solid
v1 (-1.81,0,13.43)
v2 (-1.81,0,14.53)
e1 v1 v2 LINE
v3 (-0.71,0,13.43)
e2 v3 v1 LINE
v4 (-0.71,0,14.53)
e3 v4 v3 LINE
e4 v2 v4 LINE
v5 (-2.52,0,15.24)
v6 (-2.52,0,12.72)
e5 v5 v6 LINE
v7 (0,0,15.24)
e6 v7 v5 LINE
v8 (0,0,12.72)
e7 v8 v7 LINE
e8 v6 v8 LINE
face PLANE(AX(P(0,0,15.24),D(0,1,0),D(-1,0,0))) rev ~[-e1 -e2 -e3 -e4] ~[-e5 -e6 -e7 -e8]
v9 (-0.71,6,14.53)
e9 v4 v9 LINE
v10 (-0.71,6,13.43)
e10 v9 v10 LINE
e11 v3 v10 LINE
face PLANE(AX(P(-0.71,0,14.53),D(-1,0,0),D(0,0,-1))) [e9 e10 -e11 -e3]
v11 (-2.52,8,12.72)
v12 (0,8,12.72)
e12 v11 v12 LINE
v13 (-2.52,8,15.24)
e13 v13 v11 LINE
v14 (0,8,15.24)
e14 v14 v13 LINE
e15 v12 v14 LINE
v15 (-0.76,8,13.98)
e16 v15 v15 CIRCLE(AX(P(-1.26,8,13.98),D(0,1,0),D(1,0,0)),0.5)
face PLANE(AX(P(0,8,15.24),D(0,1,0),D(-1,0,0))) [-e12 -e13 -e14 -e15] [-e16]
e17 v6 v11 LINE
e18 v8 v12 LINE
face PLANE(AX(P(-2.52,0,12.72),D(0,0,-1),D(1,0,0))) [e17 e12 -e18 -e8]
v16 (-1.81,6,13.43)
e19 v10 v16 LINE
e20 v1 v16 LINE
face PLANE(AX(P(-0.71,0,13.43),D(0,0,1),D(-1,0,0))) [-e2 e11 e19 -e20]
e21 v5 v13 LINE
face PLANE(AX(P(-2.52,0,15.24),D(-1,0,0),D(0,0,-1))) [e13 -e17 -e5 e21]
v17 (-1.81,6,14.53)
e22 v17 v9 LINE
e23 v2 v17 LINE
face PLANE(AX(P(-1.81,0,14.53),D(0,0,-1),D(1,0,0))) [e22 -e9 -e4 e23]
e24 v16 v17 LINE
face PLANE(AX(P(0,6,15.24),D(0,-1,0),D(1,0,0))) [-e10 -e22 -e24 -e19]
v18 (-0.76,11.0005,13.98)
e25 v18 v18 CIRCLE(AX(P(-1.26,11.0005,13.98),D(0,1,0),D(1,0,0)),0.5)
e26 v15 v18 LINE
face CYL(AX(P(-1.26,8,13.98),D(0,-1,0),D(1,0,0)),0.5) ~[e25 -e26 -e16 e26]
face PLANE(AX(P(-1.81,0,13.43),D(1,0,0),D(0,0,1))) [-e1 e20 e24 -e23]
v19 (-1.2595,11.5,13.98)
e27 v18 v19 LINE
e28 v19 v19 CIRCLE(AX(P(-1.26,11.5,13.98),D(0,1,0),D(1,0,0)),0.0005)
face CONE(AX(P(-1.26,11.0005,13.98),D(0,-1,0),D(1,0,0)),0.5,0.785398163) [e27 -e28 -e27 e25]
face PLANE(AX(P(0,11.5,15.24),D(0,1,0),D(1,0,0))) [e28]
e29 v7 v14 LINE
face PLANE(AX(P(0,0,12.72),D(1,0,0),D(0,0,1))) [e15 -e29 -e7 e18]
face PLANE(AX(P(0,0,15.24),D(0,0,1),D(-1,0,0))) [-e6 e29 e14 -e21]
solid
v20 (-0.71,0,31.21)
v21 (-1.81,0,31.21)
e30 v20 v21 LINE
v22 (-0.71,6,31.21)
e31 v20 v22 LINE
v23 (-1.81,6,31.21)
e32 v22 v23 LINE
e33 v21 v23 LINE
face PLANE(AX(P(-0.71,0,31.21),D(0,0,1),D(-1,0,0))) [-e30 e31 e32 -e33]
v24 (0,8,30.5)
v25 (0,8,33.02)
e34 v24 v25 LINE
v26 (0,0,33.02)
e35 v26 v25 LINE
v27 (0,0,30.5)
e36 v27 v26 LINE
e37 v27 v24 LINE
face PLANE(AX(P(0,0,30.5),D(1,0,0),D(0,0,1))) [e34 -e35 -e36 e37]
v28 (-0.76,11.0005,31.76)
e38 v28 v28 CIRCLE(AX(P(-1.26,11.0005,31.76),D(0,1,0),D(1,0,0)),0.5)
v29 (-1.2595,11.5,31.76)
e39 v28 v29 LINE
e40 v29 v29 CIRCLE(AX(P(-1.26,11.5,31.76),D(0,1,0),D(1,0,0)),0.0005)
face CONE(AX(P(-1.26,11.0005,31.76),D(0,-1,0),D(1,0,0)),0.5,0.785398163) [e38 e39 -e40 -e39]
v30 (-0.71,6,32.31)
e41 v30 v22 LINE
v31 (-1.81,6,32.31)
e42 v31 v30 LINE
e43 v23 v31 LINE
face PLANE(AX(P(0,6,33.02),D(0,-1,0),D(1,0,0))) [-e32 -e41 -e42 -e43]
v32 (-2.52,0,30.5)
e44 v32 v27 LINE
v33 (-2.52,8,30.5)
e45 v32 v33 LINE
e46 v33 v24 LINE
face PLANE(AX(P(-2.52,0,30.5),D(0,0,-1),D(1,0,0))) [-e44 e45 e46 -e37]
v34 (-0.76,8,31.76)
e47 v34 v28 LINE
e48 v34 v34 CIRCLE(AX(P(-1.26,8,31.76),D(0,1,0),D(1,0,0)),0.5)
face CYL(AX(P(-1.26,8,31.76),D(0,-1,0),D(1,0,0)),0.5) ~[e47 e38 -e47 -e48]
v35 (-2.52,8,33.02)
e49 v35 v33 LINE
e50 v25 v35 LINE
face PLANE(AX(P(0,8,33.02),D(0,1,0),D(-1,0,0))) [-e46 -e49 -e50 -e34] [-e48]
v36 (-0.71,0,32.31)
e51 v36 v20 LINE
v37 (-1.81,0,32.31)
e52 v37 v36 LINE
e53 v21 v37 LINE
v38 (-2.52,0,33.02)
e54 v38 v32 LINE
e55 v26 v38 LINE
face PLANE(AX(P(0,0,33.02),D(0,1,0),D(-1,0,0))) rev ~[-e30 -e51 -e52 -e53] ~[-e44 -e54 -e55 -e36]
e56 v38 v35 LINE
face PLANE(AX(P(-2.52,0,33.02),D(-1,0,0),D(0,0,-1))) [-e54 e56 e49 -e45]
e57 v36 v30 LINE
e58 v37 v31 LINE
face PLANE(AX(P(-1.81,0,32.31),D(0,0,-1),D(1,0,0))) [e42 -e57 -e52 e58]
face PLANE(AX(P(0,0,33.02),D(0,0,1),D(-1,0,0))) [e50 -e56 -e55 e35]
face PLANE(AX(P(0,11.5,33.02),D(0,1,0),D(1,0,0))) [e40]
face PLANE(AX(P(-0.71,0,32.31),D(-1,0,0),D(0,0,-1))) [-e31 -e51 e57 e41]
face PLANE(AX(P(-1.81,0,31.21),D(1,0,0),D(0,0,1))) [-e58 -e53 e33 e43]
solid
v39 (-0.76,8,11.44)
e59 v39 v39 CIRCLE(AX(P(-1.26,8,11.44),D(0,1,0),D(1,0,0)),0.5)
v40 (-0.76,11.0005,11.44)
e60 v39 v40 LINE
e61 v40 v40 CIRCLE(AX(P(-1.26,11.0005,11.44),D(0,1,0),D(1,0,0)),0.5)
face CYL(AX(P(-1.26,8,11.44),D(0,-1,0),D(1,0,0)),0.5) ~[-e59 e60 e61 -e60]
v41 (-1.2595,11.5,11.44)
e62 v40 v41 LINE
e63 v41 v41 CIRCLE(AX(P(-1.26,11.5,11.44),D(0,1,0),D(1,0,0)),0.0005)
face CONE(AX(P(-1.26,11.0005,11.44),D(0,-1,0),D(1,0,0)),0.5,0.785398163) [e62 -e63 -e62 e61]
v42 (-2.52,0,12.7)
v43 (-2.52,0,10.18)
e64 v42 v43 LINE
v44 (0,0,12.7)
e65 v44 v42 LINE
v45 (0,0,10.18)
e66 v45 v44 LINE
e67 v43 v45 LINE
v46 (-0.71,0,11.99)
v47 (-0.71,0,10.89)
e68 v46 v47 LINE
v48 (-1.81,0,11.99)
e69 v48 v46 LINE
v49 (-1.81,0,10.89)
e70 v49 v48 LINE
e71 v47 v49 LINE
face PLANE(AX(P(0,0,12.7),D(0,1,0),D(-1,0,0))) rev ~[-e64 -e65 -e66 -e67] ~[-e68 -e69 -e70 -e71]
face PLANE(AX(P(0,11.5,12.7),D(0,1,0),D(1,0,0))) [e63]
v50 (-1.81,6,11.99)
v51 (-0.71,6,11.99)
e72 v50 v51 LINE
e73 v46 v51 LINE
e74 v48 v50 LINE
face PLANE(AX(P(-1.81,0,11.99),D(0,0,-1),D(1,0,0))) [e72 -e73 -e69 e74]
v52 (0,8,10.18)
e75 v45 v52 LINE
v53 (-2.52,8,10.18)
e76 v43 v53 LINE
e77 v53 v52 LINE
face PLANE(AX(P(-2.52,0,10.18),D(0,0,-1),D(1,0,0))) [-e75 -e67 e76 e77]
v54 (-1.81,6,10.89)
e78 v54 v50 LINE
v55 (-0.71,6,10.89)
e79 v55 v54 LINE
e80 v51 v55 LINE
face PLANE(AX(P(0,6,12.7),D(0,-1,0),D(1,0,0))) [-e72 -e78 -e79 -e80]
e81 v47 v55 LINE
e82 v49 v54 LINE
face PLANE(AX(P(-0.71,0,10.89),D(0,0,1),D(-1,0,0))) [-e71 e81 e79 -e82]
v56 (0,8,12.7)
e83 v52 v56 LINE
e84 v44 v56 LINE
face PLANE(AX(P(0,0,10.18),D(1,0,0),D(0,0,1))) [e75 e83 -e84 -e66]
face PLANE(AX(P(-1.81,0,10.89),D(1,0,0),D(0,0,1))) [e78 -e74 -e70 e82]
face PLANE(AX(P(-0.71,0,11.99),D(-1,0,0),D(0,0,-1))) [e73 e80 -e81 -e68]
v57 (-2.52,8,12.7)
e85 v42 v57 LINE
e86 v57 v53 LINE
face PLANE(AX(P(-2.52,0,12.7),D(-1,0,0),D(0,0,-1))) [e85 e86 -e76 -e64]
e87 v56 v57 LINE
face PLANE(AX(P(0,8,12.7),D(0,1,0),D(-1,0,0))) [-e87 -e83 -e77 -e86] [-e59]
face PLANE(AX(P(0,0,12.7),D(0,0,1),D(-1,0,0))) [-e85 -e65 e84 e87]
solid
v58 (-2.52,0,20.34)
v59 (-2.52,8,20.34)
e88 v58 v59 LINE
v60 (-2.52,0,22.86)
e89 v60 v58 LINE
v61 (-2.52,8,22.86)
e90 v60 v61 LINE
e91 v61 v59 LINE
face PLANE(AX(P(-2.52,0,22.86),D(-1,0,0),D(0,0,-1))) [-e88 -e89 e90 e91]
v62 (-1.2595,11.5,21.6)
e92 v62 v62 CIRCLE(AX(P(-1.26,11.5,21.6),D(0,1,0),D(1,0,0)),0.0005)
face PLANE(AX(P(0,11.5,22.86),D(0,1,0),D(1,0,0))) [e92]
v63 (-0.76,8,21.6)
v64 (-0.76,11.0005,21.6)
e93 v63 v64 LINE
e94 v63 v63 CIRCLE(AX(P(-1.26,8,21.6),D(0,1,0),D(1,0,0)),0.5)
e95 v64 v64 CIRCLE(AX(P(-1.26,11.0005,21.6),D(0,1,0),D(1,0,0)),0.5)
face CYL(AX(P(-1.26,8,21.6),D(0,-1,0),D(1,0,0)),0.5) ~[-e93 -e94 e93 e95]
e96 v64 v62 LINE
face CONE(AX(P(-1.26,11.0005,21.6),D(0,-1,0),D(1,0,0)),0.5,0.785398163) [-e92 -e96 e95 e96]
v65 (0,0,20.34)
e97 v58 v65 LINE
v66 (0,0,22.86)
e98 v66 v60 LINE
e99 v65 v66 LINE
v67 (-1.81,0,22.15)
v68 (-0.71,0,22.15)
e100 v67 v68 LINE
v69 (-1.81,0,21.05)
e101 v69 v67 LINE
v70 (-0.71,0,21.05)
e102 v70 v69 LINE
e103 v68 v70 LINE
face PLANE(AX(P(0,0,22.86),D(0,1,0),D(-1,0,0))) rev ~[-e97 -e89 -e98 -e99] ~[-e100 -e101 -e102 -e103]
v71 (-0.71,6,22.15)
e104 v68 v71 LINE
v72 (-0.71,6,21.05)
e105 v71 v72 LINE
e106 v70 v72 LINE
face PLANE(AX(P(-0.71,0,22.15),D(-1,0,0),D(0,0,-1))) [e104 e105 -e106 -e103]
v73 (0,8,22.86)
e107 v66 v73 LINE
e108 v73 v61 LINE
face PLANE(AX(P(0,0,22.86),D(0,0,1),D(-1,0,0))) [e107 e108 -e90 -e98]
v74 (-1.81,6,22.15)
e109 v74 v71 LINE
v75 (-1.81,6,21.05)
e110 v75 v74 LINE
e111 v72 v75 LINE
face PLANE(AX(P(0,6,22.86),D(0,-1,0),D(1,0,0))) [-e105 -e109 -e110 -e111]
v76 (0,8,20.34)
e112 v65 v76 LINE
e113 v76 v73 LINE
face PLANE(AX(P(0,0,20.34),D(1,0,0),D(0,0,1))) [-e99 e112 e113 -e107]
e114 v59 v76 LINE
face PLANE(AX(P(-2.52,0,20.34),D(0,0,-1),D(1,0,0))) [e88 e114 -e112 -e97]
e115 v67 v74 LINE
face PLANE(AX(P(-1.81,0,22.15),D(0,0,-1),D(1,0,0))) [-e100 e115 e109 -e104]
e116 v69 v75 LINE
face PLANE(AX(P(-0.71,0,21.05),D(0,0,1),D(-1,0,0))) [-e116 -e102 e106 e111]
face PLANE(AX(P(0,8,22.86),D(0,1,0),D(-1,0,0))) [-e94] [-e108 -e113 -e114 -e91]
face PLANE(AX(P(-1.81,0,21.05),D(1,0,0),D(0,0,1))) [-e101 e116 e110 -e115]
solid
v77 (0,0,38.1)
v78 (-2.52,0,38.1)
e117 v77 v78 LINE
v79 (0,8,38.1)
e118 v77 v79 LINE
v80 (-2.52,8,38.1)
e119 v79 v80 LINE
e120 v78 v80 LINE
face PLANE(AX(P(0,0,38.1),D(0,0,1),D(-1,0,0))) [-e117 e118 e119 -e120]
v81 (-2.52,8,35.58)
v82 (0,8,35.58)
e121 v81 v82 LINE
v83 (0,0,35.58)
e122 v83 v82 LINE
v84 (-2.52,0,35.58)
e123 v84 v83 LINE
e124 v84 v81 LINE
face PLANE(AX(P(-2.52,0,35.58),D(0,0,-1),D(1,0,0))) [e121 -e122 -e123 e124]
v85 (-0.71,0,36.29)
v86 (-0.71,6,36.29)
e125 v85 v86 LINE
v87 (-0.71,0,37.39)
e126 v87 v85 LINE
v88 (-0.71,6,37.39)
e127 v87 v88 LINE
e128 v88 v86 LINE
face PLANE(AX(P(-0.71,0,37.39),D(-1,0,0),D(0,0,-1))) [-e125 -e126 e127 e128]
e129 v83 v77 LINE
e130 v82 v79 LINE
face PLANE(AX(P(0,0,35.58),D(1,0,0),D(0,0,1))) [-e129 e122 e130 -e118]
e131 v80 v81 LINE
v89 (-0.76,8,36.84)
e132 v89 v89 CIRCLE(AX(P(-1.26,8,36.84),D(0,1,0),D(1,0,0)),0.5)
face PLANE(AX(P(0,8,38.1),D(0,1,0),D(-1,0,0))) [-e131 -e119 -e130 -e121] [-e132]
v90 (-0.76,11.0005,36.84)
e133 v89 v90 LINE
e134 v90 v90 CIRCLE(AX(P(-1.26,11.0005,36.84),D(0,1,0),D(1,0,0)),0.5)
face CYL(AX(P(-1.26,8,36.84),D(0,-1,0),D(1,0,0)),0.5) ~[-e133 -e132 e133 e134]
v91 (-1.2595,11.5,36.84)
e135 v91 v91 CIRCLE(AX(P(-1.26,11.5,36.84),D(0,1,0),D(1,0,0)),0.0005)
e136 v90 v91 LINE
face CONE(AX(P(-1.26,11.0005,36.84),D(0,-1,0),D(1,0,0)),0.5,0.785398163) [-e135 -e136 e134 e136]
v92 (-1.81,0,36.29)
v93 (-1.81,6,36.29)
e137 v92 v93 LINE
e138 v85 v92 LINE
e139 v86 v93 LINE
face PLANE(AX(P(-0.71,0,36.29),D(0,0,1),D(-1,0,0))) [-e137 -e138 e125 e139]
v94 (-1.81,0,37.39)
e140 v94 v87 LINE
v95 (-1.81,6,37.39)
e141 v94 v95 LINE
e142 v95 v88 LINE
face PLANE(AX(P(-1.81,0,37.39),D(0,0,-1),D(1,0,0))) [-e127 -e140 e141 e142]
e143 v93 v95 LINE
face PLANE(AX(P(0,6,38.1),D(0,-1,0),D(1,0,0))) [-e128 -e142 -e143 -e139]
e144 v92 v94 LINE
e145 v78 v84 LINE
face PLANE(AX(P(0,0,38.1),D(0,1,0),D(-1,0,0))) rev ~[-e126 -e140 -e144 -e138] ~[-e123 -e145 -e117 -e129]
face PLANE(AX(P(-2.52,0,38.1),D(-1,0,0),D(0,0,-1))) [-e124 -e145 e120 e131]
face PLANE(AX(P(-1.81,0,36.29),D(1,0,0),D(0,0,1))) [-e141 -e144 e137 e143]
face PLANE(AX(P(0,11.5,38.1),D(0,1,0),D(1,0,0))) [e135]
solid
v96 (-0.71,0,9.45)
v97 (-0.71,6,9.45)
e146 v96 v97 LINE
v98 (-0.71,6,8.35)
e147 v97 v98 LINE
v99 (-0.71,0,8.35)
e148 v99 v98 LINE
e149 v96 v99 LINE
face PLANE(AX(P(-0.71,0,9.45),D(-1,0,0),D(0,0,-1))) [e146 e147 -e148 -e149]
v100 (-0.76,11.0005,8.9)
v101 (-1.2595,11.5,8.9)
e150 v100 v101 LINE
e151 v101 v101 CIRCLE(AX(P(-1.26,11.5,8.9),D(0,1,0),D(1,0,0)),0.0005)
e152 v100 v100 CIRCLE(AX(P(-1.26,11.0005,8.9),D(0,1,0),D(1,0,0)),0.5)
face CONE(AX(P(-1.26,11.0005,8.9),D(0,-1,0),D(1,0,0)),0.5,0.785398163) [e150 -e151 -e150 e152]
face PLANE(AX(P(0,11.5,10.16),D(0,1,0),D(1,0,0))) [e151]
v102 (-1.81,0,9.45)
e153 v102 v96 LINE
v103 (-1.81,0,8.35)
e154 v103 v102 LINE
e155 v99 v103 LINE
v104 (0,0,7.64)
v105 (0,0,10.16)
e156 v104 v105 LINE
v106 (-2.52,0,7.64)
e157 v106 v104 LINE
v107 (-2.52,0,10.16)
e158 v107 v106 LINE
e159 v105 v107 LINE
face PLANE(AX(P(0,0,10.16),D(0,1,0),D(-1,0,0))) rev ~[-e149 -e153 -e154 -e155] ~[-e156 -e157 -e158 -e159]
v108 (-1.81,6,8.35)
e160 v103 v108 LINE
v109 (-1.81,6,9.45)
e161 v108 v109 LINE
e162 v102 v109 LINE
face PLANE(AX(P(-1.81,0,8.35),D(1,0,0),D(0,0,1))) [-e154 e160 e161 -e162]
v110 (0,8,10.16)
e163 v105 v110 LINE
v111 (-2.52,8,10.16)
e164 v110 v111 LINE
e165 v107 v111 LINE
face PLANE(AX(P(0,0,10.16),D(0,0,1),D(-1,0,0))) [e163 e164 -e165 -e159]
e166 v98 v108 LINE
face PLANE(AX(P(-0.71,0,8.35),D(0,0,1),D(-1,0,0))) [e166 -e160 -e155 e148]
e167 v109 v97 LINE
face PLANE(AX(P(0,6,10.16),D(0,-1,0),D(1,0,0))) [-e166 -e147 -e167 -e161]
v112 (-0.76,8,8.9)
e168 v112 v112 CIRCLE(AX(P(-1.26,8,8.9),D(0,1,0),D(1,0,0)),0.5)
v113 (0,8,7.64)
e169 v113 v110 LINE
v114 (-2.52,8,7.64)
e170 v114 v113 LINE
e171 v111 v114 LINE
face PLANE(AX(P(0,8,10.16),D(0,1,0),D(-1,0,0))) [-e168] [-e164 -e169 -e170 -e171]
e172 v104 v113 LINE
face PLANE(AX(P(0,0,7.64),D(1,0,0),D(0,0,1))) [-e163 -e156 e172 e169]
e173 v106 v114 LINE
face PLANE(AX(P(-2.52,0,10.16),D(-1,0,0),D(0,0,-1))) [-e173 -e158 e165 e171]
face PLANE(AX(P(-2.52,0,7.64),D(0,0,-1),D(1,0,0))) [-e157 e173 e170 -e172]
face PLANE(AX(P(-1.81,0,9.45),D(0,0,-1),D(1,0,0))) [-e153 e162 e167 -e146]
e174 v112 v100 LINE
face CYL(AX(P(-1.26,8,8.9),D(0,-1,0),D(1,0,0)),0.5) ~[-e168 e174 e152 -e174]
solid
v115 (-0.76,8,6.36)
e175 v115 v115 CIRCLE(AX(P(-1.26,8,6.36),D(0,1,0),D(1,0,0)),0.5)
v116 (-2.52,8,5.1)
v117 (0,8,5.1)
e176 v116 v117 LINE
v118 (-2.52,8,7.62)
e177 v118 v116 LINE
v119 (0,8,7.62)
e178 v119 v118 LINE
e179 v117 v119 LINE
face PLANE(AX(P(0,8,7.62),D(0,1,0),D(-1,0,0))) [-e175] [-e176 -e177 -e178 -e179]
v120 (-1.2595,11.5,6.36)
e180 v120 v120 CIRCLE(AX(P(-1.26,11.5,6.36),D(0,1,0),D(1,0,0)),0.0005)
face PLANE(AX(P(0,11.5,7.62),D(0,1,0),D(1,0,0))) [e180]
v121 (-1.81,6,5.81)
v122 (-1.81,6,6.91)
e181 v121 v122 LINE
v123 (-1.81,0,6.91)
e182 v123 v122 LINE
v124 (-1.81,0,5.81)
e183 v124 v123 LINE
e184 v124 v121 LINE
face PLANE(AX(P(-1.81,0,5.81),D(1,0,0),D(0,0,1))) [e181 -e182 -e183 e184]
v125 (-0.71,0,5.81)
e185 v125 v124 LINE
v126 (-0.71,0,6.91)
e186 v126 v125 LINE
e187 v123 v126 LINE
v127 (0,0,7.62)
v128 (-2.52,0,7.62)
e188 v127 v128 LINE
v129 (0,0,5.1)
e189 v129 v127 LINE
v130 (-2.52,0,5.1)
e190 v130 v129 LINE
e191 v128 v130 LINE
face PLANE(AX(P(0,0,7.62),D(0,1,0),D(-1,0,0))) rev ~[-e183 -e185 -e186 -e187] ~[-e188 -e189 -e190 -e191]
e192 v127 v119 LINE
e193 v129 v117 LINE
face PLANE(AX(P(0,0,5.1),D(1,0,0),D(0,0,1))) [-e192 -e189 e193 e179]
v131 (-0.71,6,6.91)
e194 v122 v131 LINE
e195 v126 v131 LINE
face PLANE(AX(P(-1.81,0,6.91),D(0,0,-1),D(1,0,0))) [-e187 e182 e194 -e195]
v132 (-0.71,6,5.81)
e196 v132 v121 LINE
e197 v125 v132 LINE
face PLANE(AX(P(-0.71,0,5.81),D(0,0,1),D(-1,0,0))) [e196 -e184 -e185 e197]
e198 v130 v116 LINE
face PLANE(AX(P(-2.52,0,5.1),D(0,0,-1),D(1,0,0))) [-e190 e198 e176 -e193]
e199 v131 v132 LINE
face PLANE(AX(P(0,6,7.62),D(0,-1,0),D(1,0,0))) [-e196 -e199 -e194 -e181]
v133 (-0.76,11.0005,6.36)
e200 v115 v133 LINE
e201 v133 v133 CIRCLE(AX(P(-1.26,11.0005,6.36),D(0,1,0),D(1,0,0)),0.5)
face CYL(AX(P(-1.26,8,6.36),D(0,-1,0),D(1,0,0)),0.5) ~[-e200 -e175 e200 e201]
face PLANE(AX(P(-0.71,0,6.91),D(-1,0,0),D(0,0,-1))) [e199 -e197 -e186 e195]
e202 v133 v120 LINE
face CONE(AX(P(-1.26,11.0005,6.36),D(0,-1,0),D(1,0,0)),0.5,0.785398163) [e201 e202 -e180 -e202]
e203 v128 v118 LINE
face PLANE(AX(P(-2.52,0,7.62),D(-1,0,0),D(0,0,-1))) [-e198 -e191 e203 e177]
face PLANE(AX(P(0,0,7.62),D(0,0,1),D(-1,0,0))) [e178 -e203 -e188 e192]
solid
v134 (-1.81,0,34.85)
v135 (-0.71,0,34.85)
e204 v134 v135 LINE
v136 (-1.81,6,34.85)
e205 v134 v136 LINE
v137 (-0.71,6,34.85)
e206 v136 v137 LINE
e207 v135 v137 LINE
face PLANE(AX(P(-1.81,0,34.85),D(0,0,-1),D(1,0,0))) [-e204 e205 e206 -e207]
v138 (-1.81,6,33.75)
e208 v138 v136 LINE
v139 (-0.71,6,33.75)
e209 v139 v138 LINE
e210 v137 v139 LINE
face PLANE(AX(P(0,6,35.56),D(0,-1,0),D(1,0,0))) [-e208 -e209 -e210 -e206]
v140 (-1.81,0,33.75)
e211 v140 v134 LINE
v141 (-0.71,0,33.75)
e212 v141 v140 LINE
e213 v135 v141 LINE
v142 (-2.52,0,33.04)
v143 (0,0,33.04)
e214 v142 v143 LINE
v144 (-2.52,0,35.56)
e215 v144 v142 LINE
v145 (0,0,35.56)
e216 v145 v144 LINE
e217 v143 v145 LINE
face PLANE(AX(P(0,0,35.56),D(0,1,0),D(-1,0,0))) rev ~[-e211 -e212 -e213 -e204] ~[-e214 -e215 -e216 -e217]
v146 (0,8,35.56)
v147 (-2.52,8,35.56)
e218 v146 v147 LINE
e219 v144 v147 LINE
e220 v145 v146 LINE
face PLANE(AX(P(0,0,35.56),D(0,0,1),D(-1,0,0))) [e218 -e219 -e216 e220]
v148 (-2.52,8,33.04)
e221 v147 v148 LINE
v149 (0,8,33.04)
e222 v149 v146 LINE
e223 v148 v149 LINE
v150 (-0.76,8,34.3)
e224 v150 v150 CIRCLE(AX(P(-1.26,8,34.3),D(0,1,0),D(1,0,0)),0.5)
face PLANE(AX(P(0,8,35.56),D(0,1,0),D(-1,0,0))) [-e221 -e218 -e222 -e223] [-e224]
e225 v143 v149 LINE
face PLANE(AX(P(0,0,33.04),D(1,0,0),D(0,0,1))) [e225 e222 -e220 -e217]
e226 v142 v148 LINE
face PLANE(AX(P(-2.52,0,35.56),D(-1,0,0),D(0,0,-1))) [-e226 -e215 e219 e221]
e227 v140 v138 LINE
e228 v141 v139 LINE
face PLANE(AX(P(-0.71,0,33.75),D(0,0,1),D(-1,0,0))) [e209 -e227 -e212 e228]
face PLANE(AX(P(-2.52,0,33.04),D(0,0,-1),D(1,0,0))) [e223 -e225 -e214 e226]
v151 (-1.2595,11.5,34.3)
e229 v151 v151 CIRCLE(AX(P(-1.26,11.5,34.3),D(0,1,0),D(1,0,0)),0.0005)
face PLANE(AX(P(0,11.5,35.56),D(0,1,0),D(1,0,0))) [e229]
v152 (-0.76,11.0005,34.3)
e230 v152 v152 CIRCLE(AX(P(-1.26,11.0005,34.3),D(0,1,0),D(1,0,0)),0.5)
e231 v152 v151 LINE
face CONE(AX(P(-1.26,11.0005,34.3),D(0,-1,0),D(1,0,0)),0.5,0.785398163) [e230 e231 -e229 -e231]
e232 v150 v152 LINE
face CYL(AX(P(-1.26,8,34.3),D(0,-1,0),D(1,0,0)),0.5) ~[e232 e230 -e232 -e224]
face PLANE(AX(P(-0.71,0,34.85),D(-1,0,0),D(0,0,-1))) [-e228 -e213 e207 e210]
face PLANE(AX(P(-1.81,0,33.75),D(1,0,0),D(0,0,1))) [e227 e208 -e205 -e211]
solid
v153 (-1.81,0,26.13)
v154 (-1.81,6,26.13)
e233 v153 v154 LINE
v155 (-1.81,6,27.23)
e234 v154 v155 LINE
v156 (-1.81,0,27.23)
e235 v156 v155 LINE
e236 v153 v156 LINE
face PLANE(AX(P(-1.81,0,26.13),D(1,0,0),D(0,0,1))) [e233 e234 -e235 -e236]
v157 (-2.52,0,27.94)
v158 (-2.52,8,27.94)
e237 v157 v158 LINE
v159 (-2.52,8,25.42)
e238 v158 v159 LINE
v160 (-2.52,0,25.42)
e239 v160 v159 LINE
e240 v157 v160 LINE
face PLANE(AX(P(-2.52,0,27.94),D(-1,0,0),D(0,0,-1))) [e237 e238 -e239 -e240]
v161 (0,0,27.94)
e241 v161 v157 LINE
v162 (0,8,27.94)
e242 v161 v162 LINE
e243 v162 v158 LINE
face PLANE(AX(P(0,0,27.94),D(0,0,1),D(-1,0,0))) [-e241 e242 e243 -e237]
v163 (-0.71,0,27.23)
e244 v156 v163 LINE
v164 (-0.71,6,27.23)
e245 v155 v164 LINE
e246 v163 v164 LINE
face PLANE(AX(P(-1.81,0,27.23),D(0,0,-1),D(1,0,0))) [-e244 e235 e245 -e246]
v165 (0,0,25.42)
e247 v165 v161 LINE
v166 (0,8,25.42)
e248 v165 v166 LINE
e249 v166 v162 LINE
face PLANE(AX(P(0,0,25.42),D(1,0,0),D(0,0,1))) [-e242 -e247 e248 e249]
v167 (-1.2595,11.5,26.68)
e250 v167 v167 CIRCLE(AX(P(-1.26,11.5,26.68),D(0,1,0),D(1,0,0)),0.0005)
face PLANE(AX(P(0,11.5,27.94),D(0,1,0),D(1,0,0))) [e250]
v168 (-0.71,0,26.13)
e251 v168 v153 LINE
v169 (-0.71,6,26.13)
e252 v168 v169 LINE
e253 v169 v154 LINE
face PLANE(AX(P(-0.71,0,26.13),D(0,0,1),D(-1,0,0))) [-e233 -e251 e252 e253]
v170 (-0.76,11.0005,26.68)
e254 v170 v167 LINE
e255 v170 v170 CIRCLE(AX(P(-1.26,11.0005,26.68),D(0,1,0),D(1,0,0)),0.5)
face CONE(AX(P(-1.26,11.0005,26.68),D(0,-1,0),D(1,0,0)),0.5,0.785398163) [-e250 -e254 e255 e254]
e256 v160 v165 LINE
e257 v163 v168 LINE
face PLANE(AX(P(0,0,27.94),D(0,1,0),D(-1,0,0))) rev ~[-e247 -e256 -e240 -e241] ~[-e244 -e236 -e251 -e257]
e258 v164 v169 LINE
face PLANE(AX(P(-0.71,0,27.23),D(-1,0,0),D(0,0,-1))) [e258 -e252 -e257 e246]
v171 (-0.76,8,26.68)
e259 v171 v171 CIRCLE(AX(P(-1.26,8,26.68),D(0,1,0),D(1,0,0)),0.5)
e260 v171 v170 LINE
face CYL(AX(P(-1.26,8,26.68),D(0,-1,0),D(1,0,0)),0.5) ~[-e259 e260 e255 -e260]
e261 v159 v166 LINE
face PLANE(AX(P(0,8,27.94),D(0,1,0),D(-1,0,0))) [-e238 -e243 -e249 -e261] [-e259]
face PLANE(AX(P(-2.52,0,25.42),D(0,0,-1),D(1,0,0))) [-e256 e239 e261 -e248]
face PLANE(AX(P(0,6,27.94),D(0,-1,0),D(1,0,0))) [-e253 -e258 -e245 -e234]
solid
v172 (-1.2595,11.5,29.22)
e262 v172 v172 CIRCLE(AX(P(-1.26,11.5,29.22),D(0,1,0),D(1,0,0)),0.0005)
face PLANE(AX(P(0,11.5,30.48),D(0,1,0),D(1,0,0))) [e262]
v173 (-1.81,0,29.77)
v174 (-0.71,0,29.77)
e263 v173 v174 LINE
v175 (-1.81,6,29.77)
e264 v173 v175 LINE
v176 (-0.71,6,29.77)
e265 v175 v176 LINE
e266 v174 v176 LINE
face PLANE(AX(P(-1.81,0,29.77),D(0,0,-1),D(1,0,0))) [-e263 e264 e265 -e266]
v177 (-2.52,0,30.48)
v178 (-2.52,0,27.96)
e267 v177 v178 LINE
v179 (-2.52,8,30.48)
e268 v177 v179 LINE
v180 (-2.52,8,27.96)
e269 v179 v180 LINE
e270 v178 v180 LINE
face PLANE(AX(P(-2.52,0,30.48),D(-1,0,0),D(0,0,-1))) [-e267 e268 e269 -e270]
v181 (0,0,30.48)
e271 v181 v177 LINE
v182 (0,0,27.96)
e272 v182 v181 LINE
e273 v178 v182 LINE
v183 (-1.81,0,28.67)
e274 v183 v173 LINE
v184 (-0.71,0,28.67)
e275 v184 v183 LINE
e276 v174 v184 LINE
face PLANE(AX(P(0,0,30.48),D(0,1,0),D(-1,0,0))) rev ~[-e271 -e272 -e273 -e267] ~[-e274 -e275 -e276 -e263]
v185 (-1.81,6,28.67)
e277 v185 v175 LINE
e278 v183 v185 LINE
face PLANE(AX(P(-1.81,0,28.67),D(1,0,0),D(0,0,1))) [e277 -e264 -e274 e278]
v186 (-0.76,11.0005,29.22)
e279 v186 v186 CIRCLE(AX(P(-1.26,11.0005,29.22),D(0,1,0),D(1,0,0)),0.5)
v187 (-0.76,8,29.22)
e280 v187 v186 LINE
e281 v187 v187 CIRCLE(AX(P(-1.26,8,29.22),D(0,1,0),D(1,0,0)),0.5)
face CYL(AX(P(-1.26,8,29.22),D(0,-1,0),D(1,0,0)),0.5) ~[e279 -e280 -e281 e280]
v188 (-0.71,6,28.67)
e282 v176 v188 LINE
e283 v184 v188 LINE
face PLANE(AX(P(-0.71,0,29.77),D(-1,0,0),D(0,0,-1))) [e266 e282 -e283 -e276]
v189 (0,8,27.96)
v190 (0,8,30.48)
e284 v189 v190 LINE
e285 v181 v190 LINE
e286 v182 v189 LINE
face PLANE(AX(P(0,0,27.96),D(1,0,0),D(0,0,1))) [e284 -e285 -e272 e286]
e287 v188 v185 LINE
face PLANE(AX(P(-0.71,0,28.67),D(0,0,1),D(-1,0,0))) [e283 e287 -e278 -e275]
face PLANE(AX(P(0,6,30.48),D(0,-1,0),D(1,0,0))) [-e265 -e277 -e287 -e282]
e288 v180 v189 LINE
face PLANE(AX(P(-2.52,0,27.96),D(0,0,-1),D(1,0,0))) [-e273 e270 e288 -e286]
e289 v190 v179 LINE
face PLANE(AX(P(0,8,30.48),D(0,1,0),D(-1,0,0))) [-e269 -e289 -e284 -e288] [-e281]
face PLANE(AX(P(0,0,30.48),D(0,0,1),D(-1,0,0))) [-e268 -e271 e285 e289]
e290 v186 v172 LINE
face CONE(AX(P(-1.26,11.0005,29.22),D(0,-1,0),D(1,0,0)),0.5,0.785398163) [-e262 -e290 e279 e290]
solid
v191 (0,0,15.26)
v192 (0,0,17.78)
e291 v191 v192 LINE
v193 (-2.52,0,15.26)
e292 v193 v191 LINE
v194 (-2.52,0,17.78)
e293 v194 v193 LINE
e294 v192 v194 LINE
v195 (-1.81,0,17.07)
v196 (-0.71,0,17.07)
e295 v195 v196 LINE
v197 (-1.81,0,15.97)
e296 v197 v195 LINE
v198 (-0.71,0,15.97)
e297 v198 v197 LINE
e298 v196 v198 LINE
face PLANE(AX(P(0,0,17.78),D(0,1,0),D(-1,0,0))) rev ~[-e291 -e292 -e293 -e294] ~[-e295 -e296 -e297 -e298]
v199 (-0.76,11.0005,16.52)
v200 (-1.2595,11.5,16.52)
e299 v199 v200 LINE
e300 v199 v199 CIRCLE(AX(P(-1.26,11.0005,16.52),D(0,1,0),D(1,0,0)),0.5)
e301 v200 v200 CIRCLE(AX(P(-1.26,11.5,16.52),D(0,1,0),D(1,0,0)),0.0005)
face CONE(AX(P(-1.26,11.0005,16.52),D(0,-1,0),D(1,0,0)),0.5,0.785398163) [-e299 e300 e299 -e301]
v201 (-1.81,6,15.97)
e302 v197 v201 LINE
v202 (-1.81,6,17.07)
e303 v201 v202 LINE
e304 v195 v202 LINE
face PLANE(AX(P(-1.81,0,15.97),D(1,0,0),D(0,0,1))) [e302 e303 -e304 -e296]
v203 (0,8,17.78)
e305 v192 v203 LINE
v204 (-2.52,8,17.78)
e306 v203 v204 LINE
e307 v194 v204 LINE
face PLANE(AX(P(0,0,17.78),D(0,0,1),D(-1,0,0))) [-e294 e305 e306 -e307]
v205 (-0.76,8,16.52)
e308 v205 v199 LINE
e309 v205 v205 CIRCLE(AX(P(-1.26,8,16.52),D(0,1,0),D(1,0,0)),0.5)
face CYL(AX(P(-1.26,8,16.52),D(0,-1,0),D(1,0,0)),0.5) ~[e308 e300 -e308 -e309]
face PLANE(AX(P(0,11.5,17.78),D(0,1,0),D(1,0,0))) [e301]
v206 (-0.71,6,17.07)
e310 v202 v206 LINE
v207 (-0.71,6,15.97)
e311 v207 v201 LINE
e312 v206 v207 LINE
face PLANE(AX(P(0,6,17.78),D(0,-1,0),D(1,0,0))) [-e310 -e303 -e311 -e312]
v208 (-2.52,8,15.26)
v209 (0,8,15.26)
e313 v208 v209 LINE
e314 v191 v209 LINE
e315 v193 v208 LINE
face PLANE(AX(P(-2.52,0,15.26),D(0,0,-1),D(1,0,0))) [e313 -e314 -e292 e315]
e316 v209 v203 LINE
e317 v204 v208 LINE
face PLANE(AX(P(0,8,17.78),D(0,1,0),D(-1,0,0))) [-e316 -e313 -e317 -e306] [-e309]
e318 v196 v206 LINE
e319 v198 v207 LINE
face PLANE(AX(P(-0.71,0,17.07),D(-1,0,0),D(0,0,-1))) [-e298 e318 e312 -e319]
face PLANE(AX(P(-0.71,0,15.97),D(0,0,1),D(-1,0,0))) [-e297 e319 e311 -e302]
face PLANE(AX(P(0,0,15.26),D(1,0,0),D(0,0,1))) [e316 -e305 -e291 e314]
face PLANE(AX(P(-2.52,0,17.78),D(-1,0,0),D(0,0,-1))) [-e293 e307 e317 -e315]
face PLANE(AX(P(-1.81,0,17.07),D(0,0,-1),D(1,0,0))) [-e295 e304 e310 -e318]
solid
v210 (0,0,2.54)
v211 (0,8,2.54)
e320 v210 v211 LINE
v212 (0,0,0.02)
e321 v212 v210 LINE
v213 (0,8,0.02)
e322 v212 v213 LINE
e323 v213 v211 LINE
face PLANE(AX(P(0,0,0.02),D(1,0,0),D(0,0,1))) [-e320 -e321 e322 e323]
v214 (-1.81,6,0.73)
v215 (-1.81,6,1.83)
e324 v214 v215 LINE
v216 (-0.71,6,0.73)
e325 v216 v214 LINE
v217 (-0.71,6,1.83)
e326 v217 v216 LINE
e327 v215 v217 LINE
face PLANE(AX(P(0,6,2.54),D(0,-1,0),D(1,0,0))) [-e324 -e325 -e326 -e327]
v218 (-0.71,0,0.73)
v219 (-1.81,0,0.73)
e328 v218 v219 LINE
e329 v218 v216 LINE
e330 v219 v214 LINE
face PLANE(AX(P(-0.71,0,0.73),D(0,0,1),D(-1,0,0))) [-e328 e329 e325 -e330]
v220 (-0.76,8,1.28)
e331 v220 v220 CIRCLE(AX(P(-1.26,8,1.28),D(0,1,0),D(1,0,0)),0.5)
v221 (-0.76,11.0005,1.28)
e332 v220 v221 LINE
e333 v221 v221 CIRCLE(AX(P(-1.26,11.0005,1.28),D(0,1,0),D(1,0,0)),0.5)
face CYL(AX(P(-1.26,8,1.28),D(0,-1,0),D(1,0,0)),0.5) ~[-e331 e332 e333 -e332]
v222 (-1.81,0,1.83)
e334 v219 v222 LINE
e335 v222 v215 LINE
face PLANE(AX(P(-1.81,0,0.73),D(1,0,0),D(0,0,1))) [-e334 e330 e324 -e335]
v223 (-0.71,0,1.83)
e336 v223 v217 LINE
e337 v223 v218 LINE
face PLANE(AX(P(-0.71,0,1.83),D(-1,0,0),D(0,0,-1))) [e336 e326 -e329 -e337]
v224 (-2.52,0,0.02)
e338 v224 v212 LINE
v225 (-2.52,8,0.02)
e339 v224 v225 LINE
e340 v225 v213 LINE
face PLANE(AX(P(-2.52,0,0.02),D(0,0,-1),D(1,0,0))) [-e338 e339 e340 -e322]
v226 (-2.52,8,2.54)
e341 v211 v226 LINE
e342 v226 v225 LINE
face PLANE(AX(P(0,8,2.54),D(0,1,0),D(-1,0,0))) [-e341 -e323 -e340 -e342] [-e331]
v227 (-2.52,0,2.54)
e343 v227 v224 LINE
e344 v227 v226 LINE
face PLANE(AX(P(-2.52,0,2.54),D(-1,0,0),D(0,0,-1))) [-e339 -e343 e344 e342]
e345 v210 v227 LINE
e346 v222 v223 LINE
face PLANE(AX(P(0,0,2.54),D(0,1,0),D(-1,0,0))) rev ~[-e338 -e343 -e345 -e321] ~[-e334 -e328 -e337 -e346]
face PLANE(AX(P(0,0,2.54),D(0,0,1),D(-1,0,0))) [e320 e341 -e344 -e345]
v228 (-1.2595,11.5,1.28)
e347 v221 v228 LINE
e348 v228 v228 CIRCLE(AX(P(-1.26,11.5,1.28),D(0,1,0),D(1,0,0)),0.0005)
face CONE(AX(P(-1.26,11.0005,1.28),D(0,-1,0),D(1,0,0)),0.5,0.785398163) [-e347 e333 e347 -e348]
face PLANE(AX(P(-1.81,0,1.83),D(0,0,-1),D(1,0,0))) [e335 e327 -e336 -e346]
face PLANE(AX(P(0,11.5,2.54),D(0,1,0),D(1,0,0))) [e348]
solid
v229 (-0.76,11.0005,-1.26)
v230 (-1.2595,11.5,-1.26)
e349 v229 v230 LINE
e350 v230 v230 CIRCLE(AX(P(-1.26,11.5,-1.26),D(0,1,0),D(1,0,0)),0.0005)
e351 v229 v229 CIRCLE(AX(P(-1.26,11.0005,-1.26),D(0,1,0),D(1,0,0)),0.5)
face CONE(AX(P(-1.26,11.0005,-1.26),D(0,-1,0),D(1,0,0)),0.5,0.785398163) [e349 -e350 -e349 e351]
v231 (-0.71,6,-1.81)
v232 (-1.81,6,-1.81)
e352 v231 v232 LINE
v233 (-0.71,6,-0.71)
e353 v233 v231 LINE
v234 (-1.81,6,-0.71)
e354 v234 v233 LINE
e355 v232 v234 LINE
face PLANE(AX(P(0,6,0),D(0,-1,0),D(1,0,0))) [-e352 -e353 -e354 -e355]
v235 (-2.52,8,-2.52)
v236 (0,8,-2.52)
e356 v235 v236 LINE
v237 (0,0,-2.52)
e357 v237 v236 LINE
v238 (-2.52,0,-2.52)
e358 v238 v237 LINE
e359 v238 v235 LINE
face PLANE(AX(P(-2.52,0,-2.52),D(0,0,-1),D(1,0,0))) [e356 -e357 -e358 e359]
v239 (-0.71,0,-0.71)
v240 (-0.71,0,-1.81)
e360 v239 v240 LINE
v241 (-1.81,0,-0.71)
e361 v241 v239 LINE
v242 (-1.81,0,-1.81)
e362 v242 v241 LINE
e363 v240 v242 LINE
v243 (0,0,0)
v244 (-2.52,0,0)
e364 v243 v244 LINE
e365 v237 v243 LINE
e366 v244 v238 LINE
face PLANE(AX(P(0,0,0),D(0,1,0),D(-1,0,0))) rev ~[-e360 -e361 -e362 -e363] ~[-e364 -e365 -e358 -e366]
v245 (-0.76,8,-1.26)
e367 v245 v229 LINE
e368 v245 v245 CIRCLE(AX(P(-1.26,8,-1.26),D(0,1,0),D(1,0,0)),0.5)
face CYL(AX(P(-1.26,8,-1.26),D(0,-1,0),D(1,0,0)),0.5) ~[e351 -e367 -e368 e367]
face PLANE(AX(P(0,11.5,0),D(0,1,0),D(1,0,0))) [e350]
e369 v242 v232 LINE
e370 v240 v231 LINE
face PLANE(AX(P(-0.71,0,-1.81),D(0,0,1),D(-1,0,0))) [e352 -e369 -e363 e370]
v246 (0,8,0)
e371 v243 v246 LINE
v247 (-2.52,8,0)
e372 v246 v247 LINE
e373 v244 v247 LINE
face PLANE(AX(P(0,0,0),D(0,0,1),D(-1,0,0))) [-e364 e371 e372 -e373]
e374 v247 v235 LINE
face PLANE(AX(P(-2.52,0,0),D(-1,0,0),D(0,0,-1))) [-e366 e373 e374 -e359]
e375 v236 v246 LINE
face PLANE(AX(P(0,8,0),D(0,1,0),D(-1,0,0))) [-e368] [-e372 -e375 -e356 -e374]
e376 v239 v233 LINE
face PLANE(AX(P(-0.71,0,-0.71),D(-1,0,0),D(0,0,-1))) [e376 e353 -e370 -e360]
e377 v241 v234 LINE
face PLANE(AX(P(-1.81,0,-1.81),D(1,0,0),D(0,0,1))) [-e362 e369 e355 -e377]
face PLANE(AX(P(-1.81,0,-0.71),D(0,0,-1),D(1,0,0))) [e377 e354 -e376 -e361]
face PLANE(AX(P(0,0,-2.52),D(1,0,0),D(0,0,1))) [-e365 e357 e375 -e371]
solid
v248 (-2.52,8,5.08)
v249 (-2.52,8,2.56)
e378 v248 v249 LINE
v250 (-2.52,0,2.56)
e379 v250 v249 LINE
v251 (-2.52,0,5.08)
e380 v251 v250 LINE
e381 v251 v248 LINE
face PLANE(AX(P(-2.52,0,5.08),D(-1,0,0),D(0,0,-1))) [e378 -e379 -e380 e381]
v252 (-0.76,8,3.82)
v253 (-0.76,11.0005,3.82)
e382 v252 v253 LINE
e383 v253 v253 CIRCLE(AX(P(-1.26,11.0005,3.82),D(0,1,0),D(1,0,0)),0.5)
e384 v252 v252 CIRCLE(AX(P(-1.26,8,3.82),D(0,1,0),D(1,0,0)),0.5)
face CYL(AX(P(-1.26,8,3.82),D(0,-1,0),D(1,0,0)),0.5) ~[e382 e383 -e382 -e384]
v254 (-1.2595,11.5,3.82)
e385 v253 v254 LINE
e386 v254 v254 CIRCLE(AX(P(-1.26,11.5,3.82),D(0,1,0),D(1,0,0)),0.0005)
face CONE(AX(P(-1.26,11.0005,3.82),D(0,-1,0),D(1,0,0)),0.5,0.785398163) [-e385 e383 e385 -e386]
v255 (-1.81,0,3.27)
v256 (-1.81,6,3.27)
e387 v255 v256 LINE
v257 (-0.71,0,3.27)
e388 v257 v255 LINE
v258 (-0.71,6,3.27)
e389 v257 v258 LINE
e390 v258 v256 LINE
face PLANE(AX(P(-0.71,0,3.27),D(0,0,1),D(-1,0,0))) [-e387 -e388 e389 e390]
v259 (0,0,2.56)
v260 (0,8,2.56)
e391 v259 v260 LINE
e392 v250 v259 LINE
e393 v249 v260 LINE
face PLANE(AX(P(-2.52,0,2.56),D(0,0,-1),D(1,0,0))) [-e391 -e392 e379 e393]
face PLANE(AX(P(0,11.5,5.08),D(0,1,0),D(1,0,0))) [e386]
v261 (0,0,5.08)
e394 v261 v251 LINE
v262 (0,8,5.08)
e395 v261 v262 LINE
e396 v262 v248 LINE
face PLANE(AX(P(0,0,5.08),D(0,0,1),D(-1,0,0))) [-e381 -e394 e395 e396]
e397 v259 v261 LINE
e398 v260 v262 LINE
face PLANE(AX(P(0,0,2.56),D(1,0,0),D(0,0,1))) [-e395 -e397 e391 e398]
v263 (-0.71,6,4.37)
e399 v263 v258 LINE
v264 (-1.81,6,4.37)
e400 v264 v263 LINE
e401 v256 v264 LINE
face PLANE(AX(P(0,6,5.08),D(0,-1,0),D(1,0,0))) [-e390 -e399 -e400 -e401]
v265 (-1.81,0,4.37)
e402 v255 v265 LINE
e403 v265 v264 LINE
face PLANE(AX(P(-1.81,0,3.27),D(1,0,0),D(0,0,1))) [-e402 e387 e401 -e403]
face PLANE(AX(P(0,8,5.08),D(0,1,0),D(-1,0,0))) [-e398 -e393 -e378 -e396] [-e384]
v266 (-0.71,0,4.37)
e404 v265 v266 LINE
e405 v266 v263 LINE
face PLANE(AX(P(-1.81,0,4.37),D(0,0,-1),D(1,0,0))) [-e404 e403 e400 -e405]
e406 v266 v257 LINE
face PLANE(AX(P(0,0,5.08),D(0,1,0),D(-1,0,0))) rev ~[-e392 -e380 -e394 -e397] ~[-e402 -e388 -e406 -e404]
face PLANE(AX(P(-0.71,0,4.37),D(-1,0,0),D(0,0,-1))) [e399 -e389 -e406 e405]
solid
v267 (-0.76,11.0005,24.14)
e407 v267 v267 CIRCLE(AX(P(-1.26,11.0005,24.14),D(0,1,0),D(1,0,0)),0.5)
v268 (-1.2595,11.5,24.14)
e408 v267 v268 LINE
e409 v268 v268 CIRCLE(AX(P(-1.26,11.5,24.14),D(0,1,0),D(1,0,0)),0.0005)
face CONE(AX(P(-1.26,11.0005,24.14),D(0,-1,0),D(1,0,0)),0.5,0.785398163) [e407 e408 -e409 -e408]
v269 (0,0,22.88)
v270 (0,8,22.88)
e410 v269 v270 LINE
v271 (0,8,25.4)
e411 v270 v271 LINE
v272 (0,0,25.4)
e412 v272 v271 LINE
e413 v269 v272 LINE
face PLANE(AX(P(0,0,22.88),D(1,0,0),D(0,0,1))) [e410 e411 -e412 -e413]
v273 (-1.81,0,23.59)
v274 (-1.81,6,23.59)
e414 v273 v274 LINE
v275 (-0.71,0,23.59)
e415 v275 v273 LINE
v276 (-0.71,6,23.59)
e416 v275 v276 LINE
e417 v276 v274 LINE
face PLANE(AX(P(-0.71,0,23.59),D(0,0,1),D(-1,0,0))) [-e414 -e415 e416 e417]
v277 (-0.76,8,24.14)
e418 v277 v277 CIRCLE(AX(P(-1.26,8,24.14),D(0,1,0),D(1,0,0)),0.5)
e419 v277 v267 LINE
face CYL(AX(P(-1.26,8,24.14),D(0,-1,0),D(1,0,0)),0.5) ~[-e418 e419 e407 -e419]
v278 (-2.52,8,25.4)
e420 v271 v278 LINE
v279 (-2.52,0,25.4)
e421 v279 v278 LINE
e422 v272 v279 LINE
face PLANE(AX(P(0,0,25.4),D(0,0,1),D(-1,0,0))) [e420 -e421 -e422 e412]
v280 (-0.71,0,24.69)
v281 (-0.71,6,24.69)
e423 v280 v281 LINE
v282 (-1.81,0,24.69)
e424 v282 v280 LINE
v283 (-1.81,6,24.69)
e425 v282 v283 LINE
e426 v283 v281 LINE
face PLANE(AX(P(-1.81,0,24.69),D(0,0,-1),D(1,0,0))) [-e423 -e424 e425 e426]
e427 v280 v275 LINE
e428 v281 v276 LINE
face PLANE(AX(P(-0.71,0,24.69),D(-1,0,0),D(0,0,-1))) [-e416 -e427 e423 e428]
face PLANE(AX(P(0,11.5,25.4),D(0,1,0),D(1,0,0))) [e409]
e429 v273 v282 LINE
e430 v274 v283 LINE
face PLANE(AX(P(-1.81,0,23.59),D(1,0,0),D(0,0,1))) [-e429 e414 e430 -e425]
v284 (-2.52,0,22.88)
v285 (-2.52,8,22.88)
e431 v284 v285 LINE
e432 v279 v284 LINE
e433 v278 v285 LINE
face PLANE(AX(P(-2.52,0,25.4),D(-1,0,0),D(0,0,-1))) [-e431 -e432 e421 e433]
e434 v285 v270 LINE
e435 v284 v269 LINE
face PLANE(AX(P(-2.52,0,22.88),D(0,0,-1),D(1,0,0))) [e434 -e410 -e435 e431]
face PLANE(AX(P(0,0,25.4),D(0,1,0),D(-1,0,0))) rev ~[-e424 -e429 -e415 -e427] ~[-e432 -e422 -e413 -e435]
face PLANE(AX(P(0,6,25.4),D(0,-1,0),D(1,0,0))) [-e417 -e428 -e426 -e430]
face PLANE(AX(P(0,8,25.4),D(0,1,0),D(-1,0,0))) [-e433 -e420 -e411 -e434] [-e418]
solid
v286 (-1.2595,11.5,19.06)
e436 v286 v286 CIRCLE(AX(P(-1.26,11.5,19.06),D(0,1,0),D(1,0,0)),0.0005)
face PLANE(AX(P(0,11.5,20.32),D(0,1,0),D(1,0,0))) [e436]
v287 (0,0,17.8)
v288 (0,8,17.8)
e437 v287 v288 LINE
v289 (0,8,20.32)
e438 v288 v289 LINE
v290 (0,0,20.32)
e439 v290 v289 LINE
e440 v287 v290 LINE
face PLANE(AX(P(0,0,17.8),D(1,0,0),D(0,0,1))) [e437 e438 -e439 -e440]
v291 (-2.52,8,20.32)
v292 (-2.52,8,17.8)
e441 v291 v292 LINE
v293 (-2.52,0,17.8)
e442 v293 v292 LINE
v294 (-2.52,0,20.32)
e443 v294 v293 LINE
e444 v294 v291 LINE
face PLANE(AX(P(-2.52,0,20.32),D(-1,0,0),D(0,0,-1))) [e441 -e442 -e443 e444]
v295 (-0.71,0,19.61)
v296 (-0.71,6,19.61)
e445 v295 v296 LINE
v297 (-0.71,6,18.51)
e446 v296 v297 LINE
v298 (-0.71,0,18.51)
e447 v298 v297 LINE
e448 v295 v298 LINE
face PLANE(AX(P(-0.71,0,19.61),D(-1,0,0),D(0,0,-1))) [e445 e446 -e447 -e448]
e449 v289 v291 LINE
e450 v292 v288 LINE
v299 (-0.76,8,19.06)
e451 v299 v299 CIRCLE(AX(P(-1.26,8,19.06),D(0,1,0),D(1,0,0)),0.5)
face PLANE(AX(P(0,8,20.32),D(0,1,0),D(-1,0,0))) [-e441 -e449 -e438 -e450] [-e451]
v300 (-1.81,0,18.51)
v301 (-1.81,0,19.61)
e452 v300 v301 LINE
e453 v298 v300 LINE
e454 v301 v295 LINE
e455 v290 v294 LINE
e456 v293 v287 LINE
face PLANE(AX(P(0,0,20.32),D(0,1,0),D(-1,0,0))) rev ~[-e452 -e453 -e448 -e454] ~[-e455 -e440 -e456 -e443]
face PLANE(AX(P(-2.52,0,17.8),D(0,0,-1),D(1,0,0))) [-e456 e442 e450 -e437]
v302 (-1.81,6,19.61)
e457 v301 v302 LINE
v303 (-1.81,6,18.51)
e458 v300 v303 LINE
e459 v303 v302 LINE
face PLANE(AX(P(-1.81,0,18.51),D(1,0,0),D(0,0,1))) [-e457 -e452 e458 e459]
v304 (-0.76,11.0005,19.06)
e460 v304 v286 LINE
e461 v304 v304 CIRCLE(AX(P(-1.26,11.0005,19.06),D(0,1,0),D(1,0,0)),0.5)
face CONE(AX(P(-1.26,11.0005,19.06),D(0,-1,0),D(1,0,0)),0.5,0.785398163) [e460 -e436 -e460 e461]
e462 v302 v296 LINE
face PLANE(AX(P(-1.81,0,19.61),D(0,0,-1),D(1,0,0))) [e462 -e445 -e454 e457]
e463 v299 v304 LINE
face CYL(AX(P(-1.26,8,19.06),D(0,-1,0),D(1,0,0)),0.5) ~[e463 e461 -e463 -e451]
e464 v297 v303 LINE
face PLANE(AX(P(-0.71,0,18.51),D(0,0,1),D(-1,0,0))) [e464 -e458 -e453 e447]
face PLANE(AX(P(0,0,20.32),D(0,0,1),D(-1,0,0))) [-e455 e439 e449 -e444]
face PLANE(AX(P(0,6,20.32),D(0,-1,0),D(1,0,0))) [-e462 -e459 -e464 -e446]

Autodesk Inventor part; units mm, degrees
ref_plane "YZ Plane" through (0, 0, 0) normal (1, 0, 0) x (0, 1, 0)
ref_plane "XZ Plane" through (0, 0, 0) normal (0, 1, 0) x (-1, 0, 0)
ref_plane "XY Plane" through (0, 0, 0) normal (0, 0, 1) x (1, 0, 0)
sketch "Эскиз1" plane through (0, 0, 0) normal (0, 1, 0) x (-1, 0, 0)
  line L0 (0, 0) -> (2.52, 0)
  line L1 (2.52, 0) -> (2.52, -2.52)
  line L2 (2.52, -2.52) -> (0, -2.52)
  line L3 (0, -2.52) -> (0, 0)
  dimension "d1" = 2.52
  dimension "d2" = 2.52
extrude "Выдавливание1" add sketch "Эскиз1" along normal blind 8
sketch "Эскиз2" plane through (0, 8, 0) normal (0, 1, 0) x (1, 0, 0)
  line L0 (-2.52, 2.52) -> (-2.52, 0) construction
  line L1 (0, 0) -> (0, 2.52) construction
  line L2 (-2.52, 0) -> (0, 2.52) construction
  circle A0 centre (-1.26, 1.26) radius 0.5
  dimension "d22" = 1
extrude "Выдавливание2" add sketch "Эскиз2" along normal blind 3.5
chamfer "Фаска3" distance 0.5 angle 45 1 edges at (-1.76, 11.5, -1.26)
sketch "Эскиз3" plane through (0, 0, 0) normal (0, -1, 0) x (1, 0, 0)
  line L0 (0, 0) -> (0, -2.52) construction
  line L1 (0, -2.52) -> (-2.52, -2.52) construction
  line L2 (0, 0) -> (-2.52, -2.52) construction
  line L3 (-1.81, -0.71) -> (-0.71, -0.71)
  line L4 (-0.71, -0.71) -> (-0.71, -1.81)
  line L5 (-0.71, -1.81) -> (-1.81, -1.81)
  line L6 (-1.81, -1.81) -> (-1.81, -0.71)
  line L7 (-1.81, -0.71) -> (-0.71, -1.81) construction
  line L8 (-0.71, -0.71) -> (-1.81, -1.81) construction
  point P0 (-1.26, -1.26)
  dimension "d15" = 1.1
  dimension "d16" = 1.1
extrude "Выдавливание3" cut sketch "Эскиз3" against normal blind 6
pattern_linear "Прямоуг.массив1" count 16 spacing 2.54 along (0, 0, 1) of "Выдавливание1", "Выдавливание2", "Выдавливание3", "Фаска3"
properties part number "Гребенка 20 МАМА"
